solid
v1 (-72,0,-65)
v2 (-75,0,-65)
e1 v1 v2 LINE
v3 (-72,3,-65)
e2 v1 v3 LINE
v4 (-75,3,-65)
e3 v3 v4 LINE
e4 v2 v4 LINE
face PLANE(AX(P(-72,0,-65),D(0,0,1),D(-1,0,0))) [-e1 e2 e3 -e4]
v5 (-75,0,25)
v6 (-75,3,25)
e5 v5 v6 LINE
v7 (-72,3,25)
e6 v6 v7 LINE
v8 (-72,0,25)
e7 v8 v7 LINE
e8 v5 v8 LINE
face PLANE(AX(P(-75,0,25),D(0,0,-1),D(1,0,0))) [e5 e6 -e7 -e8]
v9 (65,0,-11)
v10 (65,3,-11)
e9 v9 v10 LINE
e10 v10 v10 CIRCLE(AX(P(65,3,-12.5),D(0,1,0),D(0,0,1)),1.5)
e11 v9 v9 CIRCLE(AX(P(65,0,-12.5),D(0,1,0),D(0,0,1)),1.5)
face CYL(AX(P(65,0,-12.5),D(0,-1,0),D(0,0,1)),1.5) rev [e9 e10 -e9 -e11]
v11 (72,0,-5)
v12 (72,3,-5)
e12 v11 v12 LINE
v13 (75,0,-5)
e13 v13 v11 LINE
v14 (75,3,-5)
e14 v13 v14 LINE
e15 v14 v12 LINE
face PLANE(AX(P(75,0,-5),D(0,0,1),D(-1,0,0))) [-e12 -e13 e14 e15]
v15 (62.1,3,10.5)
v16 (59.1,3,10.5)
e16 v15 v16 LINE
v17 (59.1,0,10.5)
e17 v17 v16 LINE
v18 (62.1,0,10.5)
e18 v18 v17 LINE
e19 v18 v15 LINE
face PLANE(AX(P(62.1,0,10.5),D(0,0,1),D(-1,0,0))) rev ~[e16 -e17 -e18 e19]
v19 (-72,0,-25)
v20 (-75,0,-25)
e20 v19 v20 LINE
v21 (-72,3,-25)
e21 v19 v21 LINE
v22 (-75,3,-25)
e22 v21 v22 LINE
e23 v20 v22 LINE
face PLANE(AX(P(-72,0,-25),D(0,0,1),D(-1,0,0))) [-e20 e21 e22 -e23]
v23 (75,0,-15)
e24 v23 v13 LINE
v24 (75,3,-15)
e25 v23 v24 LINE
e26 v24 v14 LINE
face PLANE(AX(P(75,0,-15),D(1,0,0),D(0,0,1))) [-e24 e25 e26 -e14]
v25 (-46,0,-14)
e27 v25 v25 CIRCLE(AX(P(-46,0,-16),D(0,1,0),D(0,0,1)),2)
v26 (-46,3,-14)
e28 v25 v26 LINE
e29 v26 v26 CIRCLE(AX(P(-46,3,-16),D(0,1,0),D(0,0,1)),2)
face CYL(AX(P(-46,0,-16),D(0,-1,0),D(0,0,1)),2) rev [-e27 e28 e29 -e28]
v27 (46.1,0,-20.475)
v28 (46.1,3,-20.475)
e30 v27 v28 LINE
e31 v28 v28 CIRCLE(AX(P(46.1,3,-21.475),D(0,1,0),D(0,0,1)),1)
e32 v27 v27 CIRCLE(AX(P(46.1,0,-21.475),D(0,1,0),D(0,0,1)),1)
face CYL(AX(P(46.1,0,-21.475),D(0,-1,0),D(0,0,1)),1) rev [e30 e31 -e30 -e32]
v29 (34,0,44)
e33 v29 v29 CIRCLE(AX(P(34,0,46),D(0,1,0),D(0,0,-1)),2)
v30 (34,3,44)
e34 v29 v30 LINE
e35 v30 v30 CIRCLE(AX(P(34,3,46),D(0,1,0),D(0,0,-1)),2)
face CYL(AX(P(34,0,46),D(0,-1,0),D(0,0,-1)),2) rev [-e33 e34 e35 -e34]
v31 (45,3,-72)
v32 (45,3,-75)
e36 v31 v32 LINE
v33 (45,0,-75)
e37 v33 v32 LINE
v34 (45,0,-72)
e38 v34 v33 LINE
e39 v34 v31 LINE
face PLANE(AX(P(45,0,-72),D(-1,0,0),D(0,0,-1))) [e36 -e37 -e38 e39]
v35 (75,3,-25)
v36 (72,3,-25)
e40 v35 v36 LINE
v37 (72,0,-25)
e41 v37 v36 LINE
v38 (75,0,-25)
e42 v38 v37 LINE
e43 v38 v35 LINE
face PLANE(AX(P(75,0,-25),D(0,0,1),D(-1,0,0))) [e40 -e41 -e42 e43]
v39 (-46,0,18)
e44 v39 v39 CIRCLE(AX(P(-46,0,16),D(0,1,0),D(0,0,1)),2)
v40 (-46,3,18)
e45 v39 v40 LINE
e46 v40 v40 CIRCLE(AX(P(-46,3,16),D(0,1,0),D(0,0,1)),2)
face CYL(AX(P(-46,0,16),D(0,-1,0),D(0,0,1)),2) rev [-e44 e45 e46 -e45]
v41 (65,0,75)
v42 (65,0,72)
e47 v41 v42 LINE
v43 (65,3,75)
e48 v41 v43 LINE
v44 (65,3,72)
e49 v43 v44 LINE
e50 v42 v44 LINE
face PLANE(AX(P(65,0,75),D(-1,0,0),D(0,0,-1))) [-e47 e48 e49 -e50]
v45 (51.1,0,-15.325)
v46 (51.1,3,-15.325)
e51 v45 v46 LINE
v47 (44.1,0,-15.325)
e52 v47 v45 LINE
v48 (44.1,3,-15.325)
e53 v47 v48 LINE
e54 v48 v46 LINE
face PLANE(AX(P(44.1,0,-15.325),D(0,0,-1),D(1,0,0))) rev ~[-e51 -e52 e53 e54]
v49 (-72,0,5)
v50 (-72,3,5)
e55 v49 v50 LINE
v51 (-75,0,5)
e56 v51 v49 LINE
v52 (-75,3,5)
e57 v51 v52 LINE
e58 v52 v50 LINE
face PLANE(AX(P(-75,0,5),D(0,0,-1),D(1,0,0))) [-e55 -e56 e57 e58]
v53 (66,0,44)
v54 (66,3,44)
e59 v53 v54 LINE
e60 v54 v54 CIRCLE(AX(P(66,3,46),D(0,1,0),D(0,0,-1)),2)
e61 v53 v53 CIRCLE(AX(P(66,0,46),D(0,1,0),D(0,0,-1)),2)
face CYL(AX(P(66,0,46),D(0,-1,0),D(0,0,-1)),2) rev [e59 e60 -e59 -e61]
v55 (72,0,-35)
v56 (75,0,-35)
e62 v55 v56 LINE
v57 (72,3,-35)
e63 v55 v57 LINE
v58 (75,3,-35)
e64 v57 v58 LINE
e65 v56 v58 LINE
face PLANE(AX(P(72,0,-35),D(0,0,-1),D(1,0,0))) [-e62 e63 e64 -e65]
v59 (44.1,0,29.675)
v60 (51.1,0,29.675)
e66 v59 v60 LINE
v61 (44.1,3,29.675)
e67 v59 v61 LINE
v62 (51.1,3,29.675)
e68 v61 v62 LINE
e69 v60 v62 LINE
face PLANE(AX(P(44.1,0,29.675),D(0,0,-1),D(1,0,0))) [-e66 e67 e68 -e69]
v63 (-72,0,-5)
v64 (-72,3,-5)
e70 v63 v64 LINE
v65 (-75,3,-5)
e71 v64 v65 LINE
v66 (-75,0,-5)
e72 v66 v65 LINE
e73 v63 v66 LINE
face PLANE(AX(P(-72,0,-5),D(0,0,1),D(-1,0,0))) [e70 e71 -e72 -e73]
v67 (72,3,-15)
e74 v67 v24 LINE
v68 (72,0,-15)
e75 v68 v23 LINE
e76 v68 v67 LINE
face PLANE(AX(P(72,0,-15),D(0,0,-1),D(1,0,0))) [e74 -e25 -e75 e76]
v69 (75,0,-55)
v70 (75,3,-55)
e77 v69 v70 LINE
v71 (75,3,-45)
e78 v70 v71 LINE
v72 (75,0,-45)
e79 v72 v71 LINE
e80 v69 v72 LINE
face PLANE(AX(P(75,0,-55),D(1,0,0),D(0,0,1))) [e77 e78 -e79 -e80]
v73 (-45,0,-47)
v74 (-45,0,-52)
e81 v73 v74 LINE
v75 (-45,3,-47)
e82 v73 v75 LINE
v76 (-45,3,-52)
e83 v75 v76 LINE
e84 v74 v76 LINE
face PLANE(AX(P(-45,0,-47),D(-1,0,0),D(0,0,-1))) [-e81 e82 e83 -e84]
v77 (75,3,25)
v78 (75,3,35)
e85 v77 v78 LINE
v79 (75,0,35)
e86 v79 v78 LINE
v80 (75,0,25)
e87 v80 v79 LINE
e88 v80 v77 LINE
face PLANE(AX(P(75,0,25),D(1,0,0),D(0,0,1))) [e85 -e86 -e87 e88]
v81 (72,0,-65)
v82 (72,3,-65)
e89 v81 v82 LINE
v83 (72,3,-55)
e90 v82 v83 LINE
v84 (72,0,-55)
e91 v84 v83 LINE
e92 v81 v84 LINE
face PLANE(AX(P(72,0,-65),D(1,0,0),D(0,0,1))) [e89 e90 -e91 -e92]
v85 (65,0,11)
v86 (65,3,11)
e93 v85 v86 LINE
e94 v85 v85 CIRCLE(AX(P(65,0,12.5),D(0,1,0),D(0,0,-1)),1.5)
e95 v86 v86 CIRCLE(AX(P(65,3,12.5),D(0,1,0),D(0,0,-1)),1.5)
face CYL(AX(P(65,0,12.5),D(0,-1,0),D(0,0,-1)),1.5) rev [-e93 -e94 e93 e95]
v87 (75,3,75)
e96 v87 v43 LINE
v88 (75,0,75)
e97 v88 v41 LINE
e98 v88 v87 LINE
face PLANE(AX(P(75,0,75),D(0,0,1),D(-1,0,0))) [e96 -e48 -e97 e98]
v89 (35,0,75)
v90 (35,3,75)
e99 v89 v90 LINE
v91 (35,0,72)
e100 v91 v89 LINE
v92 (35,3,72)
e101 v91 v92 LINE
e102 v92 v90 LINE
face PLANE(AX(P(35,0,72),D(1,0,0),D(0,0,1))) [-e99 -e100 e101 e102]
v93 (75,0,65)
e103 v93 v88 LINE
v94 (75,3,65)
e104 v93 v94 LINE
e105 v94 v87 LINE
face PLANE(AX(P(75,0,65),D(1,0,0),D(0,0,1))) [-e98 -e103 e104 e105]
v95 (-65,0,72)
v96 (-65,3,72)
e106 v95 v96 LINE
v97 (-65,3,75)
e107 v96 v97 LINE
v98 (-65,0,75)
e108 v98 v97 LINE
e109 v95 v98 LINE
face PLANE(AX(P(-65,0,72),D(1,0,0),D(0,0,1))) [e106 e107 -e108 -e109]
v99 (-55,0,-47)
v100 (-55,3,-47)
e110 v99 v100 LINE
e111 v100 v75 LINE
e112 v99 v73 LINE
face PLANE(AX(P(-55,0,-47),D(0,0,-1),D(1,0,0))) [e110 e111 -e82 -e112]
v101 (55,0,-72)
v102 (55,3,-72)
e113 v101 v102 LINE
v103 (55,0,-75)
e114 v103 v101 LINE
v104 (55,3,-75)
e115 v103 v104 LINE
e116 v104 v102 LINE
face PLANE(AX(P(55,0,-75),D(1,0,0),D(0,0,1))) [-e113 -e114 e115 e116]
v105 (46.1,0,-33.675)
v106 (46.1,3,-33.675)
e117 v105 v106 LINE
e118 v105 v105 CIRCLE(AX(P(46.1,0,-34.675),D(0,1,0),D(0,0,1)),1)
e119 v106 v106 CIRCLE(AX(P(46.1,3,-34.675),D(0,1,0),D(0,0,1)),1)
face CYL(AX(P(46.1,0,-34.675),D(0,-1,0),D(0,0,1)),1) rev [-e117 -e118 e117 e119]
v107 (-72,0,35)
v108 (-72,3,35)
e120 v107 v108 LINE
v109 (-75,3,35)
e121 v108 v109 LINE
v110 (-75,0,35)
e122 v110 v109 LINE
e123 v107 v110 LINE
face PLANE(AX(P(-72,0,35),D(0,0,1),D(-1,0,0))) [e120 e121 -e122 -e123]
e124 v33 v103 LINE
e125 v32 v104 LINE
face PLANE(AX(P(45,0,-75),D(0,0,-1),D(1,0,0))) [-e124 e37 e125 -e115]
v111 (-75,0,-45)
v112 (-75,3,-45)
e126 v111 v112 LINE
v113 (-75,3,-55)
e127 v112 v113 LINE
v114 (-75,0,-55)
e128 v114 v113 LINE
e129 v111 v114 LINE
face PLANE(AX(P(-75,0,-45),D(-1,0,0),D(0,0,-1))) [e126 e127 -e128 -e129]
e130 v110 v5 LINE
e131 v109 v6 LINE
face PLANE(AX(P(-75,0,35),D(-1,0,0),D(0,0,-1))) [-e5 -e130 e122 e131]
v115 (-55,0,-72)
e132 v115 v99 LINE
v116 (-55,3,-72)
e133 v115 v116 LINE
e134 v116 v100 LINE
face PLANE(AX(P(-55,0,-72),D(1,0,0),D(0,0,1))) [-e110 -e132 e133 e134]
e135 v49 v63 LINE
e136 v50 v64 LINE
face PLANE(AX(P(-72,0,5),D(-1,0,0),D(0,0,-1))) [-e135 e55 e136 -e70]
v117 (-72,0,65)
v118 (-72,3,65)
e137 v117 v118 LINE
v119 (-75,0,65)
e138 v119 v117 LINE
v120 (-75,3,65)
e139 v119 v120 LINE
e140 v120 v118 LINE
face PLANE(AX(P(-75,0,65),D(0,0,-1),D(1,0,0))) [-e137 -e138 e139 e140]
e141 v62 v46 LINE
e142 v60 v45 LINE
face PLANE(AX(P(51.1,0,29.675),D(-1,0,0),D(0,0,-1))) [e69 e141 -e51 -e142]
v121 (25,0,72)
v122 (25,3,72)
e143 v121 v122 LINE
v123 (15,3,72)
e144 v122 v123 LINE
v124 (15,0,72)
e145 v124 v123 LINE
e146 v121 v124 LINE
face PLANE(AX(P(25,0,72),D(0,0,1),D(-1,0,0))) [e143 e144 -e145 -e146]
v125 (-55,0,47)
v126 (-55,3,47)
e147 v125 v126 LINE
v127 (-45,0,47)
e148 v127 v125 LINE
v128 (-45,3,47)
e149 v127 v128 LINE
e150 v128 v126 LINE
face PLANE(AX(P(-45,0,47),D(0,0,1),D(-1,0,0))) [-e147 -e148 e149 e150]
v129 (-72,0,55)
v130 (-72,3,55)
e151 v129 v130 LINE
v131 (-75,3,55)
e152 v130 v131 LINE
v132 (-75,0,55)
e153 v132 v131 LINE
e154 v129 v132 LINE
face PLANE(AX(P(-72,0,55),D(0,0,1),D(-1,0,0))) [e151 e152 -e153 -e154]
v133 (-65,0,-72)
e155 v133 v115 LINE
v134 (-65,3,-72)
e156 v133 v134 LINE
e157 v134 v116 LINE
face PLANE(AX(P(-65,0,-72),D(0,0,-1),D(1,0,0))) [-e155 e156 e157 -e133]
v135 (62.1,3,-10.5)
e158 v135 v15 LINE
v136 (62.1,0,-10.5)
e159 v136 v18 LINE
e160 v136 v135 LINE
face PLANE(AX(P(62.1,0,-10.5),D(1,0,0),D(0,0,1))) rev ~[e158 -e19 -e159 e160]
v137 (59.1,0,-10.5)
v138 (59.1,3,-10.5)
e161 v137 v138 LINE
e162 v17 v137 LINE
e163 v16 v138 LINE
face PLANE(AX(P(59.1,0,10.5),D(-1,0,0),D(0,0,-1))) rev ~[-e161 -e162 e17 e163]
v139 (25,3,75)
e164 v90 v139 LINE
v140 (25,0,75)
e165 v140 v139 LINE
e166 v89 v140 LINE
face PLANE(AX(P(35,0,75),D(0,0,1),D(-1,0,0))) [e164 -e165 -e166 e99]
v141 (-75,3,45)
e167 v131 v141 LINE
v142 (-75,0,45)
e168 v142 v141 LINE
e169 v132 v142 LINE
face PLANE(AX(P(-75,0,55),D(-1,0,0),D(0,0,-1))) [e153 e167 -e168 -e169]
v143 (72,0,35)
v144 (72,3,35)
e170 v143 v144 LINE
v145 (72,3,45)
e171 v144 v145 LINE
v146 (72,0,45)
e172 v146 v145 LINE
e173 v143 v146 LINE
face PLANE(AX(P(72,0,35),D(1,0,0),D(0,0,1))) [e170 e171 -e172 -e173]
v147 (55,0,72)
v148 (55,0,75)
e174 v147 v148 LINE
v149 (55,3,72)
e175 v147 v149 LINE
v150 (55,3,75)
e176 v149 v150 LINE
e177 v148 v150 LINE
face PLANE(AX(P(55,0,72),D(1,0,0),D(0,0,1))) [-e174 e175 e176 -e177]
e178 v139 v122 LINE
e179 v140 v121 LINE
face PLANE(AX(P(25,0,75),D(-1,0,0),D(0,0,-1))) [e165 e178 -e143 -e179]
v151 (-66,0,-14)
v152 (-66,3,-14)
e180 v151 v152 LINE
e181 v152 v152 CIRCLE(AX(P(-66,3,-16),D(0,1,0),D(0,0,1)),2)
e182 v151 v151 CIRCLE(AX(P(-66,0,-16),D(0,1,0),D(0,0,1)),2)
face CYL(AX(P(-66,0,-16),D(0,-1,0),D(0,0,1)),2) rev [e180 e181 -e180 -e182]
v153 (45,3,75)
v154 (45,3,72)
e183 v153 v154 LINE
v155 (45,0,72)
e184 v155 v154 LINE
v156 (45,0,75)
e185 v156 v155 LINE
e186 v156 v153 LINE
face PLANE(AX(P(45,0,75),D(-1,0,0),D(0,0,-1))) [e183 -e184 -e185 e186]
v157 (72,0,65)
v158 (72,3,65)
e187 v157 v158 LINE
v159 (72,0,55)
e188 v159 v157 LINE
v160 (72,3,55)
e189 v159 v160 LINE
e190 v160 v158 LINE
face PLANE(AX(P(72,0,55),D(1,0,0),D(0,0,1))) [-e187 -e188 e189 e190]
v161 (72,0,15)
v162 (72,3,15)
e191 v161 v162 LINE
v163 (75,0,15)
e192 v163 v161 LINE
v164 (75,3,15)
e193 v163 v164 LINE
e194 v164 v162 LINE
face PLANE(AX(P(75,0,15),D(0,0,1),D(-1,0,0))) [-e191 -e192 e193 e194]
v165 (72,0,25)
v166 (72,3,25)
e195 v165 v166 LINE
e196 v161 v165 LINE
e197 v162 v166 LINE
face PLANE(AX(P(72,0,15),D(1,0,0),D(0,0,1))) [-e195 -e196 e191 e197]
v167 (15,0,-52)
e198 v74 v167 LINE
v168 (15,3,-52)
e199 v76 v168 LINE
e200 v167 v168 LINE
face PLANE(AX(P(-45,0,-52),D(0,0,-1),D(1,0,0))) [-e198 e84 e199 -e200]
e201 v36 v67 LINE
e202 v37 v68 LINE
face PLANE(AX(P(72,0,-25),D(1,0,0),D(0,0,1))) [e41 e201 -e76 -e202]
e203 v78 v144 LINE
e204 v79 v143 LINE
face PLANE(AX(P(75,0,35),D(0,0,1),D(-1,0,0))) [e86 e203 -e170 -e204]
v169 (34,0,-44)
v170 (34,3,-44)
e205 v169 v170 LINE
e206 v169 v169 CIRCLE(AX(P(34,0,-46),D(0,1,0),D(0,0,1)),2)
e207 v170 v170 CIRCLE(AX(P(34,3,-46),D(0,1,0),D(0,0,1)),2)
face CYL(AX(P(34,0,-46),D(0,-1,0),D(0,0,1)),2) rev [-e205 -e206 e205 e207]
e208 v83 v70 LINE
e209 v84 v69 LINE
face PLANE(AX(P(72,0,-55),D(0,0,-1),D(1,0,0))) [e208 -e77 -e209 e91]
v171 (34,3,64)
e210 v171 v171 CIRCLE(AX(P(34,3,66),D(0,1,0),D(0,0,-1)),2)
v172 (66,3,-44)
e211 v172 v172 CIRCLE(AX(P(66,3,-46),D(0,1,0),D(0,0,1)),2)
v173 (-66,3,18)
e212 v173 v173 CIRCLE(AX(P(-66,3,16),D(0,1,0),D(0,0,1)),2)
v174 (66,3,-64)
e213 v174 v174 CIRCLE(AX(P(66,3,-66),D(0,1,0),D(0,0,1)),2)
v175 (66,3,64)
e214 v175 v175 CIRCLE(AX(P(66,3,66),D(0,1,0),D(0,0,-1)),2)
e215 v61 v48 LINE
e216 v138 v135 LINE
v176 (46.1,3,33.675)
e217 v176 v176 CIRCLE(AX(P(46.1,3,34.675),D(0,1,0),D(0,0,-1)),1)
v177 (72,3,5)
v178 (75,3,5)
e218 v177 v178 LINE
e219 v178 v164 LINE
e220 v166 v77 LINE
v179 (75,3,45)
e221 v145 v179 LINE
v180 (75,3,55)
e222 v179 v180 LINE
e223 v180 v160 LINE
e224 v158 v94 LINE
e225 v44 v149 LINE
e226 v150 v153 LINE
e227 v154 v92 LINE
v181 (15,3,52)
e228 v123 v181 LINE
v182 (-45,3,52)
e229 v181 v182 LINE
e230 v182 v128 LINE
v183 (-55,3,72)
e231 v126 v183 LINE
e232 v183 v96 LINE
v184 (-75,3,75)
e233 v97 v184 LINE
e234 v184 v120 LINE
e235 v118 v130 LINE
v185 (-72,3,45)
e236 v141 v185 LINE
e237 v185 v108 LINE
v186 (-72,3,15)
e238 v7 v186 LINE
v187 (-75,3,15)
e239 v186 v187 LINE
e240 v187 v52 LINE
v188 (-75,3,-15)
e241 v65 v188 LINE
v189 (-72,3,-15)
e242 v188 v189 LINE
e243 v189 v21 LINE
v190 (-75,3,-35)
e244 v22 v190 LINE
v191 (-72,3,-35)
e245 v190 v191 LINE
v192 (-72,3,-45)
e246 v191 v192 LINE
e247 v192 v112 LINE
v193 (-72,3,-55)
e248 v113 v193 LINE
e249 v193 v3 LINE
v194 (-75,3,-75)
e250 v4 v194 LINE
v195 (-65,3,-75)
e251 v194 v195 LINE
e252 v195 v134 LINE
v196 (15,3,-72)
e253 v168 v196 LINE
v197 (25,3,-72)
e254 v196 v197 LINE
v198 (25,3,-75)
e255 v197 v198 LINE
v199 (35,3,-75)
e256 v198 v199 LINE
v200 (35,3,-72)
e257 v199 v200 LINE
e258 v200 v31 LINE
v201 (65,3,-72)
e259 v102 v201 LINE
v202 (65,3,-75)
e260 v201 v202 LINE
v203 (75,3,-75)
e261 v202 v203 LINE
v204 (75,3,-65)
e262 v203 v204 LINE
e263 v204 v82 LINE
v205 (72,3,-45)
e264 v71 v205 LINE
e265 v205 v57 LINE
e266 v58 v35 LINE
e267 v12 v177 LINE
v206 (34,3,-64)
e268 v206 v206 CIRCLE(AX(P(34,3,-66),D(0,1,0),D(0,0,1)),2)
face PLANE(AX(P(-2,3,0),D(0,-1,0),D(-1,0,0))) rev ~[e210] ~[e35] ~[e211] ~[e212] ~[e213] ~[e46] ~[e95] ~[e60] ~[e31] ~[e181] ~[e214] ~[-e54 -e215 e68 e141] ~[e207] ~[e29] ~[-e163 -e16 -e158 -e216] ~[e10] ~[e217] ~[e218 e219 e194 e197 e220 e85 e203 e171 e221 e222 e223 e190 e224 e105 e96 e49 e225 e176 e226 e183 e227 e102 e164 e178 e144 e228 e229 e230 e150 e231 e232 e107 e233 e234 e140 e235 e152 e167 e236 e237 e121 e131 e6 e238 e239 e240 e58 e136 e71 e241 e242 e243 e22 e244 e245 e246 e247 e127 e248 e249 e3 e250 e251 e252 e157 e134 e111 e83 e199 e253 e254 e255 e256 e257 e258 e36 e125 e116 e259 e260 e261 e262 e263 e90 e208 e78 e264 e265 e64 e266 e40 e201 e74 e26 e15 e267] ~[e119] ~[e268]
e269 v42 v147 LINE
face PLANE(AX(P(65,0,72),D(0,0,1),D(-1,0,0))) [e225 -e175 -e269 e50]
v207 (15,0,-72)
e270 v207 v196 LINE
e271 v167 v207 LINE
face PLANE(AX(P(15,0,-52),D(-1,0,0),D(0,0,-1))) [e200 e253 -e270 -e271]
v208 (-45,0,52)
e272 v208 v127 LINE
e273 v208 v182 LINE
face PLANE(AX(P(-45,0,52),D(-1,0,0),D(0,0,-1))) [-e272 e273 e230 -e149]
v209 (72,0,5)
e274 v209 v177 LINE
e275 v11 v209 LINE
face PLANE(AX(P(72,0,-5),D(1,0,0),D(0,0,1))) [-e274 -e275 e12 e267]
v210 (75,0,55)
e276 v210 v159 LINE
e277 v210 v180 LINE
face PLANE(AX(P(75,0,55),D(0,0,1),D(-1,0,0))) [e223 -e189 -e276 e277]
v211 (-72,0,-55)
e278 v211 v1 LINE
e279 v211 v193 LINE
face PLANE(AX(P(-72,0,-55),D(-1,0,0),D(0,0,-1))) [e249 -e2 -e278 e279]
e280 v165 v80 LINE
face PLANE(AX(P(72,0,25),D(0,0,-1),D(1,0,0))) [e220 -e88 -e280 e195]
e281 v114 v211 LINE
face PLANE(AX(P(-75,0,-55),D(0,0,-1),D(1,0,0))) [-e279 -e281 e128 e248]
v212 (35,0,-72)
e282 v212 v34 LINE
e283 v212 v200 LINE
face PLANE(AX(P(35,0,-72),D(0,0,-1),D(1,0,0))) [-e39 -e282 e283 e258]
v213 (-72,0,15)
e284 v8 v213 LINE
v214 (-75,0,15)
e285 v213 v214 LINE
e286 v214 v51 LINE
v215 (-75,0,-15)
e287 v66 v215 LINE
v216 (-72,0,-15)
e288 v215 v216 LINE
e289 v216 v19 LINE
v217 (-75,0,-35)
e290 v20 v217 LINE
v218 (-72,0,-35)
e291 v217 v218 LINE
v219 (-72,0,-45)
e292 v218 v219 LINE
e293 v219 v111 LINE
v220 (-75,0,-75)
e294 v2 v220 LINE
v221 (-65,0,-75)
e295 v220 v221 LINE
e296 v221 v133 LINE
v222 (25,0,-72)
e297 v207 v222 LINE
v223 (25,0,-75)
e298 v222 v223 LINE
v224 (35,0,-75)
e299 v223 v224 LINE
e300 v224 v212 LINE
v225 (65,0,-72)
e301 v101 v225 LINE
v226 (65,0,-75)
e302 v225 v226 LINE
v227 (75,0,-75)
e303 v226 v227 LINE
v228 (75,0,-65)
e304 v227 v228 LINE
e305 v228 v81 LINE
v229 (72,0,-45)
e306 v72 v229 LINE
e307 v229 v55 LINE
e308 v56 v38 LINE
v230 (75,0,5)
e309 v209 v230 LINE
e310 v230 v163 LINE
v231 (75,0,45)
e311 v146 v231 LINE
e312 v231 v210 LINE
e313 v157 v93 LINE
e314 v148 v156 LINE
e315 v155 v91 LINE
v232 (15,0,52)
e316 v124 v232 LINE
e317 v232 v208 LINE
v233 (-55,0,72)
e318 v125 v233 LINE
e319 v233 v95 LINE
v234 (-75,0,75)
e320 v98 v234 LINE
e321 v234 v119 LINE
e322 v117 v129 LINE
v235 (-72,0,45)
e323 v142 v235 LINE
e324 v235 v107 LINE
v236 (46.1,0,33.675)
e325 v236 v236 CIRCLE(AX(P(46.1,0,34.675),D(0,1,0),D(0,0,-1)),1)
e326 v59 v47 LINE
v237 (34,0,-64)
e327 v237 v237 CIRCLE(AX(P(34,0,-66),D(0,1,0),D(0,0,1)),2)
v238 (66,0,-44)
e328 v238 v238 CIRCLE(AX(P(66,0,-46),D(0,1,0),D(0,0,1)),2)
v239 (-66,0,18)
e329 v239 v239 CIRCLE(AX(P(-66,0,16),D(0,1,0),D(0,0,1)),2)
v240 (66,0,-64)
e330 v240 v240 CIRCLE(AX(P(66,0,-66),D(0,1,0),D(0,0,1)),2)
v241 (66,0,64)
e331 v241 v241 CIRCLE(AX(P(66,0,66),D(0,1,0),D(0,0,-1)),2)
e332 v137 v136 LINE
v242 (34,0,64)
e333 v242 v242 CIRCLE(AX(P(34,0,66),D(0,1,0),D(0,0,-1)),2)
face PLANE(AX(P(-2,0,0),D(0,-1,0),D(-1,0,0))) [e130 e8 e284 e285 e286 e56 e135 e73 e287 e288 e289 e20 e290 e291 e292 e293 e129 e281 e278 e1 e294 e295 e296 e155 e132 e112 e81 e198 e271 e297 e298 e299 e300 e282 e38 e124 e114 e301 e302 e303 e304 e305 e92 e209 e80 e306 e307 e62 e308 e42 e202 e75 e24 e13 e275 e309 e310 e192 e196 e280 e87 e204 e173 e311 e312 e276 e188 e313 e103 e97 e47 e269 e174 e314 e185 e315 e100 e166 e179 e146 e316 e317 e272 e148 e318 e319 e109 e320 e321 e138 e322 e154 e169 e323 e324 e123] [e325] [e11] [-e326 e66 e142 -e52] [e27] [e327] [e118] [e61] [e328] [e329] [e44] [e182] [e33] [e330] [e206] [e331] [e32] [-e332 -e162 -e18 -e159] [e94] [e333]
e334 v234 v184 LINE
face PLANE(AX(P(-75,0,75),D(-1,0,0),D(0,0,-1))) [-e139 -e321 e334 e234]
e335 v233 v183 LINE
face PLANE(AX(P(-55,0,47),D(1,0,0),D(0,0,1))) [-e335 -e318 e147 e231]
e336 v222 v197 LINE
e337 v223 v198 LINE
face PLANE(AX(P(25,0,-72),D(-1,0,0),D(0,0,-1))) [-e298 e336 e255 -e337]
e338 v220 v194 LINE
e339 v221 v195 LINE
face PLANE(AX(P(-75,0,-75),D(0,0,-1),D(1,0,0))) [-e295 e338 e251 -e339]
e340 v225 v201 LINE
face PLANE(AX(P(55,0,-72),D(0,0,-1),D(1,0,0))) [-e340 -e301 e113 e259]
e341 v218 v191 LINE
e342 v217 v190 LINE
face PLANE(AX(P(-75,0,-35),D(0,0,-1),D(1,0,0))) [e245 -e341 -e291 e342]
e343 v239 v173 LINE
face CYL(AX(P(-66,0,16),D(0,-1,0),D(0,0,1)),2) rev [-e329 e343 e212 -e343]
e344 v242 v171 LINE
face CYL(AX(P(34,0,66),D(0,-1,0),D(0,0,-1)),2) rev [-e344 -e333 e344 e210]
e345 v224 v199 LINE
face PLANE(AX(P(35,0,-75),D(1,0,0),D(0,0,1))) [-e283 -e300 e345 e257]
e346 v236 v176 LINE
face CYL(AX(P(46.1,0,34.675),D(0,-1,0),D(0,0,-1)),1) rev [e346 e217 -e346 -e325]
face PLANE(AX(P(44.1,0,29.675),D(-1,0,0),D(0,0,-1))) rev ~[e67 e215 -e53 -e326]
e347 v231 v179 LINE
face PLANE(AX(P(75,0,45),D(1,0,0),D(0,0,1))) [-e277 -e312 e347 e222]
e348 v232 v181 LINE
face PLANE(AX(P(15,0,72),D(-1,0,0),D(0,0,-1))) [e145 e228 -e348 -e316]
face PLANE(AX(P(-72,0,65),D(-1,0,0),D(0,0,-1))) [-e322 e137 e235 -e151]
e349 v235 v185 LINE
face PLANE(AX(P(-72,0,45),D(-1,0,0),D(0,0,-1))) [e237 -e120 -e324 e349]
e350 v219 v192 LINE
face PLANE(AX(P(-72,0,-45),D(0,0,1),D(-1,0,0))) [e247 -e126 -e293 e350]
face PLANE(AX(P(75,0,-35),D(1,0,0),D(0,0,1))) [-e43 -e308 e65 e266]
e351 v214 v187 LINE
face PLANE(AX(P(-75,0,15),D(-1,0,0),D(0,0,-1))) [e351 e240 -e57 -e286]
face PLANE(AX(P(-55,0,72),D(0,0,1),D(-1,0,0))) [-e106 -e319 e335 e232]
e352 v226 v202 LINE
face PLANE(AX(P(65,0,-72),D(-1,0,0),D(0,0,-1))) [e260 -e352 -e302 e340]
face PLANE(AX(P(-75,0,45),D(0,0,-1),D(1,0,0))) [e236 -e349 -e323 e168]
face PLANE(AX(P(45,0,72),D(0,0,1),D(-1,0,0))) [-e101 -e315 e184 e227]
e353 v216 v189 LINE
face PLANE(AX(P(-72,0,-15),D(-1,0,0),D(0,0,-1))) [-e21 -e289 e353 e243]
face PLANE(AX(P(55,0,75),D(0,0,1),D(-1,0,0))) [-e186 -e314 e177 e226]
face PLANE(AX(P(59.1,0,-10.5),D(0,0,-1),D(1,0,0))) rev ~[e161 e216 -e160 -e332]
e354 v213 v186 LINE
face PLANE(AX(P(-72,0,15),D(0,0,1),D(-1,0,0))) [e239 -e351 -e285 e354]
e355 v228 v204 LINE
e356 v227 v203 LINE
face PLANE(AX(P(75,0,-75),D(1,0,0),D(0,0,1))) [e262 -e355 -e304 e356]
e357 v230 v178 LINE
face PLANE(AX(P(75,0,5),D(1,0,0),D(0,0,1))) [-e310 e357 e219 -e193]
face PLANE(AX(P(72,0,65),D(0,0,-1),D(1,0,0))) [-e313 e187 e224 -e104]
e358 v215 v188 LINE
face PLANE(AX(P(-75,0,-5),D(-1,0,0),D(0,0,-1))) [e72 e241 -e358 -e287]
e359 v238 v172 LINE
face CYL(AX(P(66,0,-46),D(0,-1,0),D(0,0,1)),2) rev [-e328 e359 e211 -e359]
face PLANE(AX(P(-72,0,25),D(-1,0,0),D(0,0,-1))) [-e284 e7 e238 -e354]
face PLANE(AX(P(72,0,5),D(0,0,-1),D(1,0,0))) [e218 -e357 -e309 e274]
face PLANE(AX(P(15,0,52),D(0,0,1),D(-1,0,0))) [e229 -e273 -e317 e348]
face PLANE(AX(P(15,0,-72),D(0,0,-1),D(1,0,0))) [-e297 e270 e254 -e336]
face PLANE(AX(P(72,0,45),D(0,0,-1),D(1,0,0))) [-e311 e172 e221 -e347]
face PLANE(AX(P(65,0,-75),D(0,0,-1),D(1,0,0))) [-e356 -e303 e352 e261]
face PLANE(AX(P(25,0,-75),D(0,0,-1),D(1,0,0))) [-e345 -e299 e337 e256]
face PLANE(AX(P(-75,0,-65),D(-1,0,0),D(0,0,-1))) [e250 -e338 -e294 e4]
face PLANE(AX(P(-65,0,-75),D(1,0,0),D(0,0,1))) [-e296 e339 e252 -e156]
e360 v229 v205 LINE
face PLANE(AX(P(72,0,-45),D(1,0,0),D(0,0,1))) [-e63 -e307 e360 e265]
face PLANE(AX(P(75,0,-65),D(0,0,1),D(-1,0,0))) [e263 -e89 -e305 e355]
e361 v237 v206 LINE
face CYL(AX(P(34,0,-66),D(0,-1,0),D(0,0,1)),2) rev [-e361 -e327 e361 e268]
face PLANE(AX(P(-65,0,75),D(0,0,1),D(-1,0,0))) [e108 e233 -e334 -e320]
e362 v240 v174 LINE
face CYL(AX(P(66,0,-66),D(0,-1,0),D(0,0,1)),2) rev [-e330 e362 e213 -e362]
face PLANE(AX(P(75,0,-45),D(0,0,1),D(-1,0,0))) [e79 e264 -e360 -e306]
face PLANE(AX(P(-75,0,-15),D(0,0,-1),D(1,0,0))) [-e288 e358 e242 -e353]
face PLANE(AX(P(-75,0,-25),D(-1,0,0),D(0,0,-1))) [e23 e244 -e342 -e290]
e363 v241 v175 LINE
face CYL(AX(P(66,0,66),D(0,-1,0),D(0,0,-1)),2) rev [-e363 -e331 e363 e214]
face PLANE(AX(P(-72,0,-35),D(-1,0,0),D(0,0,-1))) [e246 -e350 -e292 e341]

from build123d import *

# Parameters (mm, degrees)
CROQUIS1_R              = 1.5
CROQUIS1_R_2            = 2
CROQUIS1_R_3            = 1
CROQUIS1_W              = 7
CROQUIS1_H              = 45
SALIENTE_EXTRUIR2_DEPTH = 3


with BuildPart() as part:
    # Croquis1 → Saliente-Extruir2 (new body)
    with BuildSketch(Plane(origin=(0, 0, 0), x_dir=(1, 0, 0), z_dir=(0, 1, 0))):
        Polygon((-75, -75), (-75, -65), (-72, -65), (-72, -55), (-75, -55), (-75, -45), (-72, -45), (-72, -35), (-75, -35), (-75, -25), (-72, -25), (-72, -15), (-75, -15), (-75, -5), (-72, -5), (-72, 5), (-75, 5), (-75, 15), (-72, 15), (-72, 25), (-75, 25), (-75, 35), (-72, 35), (-72, 45), (-75, 45), (-75, 55), (-72, 55), (-72, 65), (-75, 65), (-75, 75), (-65, 75), (-65, 72), (-55, 72), (-55, 47), (-45, 47), (-45, 52), (15, 52), (15, 72), (25, 72), (25, 75), (35, 75), (35, 72), (45, 72), (45, 75), (55, 75), (55, 72), (65, 72), (65, 75), (75, 75), (75, 65), (72, 65), (72, 55), (75, 55), (75, 45), (72, 45), (72, 35), (75, 35), (75, 25), (72, 25), (72, 15), (75, 15), (75, 5), (72, 5), (72, -5), (75, -5), (75, -15), (72, -15), (72, -25), (75, -25), (75, -35), (72, -35), (72, -45), (75, -45), (75, -55), (72, -55), (72, -65), (75, -65), (75, -75), (65, -75), (65, -72), (55, -72), (55, -75), (45, -75), (45, -72), (35, -72), (35, -75), (25, -75), (25, -72), (15, -72), (15, -52), (-45, -52), (-45, -47), (-55, -47), (-55, -72), (-65, -72), (-65, -75), align=None)
        with Locations(Location((65, 12.5, 0), (0, 0, 270))):
            Circle(CROQUIS1_R, mode=Mode.SUBTRACT)
        with Locations(Location((65, -12.5, 0), (0, 0, 90))):
            Circle(CROQUIS1_R, mode=Mode.SUBTRACT)
        with Locations(Location((66, 66, 0), (0, 0, 270))):
            Circle(CROQUIS1_R_2, mode=Mode.SUBTRACT)
        with Locations(Location((34, 66, 0), (0, 0, 270))):
            Circle(CROQUIS1_R_2, mode=Mode.SUBTRACT)
        with Locations(Location((66, 46, 0), (0, 0, 270))):
            Circle(CROQUIS1_R_2, mode=Mode.SUBTRACT)
        with Locations(Location((34, 46, 0), (0, 0, 270))):
            Circle(CROQUIS1_R_2, mode=Mode.SUBTRACT)
        with Locations(Location((66, -46, 0), (0, 0, 90))):
            Circle(CROQUIS1_R_2, mode=Mode.SUBTRACT)
        with Locations(Location((34, -46, 0), (0, 0, 90))):
            Circle(CROQUIS1_R_2, mode=Mode.SUBTRACT)
        with Locations(Location((66, -66, 0), (0, 0, 90))):
            Circle(CROQUIS1_R_2, mode=Mode.SUBTRACT)
        with Locations(Location((34, -66, 0), (0, 0, 90))):
            Circle(CROQUIS1_R_2, mode=Mode.SUBTRACT)
        with Locations(Location((-66, 16, 0), (0, 0, 270))):
            Circle(CROQUIS1_R_2, mode=Mode.SUBTRACT)
        with Locations(Location((-66, -16, 0), (0, 0, 270))):
            Circle(CROQUIS1_R_2, mode=Mode.SUBTRACT)
        with Locations(Location((-46, 16, 0), (0, 0, 270))):
            Circle(CROQUIS1_R_2, mode=Mode.SUBTRACT)
        with Locations(Location((-46, -16, 0), (0, 0, 270))):
            Circle(CROQUIS1_R_2, mode=Mode.SUBTRACT)
        with Locations(Location((46.1, 34.675, 0), (0, 0, 270))):
            Circle(CROQUIS1_R_3, mode=Mode.SUBTRACT)
        with Locations(Location((46.1, -34.675, 0), (0, 0, 90))):
            Circle(CROQUIS1_R_3, mode=Mode.SUBTRACT)
        with Locations(Location((46.1, 21.475, 0), (0, 0, 270))):
            Circle(CROQUIS1_R_3, mode=Mode.SUBTRACT)
        Polygon((59.1, -10.5), (59.1, -7.5), (59.1, 7.5), (59.1, 10.5), (62.1, 10.5), (62.1, -10.5), align=None, mode=Mode.SUBTRACT)
        with Locations((47.6, -7.175)):
            Rectangle(CROQUIS1_W, CROQUIS1_H, mode=Mode.SUBTRACT)
    extrude(amount=SALIENTE_EXTRUIR2_DEPTH)


solid = part.part
